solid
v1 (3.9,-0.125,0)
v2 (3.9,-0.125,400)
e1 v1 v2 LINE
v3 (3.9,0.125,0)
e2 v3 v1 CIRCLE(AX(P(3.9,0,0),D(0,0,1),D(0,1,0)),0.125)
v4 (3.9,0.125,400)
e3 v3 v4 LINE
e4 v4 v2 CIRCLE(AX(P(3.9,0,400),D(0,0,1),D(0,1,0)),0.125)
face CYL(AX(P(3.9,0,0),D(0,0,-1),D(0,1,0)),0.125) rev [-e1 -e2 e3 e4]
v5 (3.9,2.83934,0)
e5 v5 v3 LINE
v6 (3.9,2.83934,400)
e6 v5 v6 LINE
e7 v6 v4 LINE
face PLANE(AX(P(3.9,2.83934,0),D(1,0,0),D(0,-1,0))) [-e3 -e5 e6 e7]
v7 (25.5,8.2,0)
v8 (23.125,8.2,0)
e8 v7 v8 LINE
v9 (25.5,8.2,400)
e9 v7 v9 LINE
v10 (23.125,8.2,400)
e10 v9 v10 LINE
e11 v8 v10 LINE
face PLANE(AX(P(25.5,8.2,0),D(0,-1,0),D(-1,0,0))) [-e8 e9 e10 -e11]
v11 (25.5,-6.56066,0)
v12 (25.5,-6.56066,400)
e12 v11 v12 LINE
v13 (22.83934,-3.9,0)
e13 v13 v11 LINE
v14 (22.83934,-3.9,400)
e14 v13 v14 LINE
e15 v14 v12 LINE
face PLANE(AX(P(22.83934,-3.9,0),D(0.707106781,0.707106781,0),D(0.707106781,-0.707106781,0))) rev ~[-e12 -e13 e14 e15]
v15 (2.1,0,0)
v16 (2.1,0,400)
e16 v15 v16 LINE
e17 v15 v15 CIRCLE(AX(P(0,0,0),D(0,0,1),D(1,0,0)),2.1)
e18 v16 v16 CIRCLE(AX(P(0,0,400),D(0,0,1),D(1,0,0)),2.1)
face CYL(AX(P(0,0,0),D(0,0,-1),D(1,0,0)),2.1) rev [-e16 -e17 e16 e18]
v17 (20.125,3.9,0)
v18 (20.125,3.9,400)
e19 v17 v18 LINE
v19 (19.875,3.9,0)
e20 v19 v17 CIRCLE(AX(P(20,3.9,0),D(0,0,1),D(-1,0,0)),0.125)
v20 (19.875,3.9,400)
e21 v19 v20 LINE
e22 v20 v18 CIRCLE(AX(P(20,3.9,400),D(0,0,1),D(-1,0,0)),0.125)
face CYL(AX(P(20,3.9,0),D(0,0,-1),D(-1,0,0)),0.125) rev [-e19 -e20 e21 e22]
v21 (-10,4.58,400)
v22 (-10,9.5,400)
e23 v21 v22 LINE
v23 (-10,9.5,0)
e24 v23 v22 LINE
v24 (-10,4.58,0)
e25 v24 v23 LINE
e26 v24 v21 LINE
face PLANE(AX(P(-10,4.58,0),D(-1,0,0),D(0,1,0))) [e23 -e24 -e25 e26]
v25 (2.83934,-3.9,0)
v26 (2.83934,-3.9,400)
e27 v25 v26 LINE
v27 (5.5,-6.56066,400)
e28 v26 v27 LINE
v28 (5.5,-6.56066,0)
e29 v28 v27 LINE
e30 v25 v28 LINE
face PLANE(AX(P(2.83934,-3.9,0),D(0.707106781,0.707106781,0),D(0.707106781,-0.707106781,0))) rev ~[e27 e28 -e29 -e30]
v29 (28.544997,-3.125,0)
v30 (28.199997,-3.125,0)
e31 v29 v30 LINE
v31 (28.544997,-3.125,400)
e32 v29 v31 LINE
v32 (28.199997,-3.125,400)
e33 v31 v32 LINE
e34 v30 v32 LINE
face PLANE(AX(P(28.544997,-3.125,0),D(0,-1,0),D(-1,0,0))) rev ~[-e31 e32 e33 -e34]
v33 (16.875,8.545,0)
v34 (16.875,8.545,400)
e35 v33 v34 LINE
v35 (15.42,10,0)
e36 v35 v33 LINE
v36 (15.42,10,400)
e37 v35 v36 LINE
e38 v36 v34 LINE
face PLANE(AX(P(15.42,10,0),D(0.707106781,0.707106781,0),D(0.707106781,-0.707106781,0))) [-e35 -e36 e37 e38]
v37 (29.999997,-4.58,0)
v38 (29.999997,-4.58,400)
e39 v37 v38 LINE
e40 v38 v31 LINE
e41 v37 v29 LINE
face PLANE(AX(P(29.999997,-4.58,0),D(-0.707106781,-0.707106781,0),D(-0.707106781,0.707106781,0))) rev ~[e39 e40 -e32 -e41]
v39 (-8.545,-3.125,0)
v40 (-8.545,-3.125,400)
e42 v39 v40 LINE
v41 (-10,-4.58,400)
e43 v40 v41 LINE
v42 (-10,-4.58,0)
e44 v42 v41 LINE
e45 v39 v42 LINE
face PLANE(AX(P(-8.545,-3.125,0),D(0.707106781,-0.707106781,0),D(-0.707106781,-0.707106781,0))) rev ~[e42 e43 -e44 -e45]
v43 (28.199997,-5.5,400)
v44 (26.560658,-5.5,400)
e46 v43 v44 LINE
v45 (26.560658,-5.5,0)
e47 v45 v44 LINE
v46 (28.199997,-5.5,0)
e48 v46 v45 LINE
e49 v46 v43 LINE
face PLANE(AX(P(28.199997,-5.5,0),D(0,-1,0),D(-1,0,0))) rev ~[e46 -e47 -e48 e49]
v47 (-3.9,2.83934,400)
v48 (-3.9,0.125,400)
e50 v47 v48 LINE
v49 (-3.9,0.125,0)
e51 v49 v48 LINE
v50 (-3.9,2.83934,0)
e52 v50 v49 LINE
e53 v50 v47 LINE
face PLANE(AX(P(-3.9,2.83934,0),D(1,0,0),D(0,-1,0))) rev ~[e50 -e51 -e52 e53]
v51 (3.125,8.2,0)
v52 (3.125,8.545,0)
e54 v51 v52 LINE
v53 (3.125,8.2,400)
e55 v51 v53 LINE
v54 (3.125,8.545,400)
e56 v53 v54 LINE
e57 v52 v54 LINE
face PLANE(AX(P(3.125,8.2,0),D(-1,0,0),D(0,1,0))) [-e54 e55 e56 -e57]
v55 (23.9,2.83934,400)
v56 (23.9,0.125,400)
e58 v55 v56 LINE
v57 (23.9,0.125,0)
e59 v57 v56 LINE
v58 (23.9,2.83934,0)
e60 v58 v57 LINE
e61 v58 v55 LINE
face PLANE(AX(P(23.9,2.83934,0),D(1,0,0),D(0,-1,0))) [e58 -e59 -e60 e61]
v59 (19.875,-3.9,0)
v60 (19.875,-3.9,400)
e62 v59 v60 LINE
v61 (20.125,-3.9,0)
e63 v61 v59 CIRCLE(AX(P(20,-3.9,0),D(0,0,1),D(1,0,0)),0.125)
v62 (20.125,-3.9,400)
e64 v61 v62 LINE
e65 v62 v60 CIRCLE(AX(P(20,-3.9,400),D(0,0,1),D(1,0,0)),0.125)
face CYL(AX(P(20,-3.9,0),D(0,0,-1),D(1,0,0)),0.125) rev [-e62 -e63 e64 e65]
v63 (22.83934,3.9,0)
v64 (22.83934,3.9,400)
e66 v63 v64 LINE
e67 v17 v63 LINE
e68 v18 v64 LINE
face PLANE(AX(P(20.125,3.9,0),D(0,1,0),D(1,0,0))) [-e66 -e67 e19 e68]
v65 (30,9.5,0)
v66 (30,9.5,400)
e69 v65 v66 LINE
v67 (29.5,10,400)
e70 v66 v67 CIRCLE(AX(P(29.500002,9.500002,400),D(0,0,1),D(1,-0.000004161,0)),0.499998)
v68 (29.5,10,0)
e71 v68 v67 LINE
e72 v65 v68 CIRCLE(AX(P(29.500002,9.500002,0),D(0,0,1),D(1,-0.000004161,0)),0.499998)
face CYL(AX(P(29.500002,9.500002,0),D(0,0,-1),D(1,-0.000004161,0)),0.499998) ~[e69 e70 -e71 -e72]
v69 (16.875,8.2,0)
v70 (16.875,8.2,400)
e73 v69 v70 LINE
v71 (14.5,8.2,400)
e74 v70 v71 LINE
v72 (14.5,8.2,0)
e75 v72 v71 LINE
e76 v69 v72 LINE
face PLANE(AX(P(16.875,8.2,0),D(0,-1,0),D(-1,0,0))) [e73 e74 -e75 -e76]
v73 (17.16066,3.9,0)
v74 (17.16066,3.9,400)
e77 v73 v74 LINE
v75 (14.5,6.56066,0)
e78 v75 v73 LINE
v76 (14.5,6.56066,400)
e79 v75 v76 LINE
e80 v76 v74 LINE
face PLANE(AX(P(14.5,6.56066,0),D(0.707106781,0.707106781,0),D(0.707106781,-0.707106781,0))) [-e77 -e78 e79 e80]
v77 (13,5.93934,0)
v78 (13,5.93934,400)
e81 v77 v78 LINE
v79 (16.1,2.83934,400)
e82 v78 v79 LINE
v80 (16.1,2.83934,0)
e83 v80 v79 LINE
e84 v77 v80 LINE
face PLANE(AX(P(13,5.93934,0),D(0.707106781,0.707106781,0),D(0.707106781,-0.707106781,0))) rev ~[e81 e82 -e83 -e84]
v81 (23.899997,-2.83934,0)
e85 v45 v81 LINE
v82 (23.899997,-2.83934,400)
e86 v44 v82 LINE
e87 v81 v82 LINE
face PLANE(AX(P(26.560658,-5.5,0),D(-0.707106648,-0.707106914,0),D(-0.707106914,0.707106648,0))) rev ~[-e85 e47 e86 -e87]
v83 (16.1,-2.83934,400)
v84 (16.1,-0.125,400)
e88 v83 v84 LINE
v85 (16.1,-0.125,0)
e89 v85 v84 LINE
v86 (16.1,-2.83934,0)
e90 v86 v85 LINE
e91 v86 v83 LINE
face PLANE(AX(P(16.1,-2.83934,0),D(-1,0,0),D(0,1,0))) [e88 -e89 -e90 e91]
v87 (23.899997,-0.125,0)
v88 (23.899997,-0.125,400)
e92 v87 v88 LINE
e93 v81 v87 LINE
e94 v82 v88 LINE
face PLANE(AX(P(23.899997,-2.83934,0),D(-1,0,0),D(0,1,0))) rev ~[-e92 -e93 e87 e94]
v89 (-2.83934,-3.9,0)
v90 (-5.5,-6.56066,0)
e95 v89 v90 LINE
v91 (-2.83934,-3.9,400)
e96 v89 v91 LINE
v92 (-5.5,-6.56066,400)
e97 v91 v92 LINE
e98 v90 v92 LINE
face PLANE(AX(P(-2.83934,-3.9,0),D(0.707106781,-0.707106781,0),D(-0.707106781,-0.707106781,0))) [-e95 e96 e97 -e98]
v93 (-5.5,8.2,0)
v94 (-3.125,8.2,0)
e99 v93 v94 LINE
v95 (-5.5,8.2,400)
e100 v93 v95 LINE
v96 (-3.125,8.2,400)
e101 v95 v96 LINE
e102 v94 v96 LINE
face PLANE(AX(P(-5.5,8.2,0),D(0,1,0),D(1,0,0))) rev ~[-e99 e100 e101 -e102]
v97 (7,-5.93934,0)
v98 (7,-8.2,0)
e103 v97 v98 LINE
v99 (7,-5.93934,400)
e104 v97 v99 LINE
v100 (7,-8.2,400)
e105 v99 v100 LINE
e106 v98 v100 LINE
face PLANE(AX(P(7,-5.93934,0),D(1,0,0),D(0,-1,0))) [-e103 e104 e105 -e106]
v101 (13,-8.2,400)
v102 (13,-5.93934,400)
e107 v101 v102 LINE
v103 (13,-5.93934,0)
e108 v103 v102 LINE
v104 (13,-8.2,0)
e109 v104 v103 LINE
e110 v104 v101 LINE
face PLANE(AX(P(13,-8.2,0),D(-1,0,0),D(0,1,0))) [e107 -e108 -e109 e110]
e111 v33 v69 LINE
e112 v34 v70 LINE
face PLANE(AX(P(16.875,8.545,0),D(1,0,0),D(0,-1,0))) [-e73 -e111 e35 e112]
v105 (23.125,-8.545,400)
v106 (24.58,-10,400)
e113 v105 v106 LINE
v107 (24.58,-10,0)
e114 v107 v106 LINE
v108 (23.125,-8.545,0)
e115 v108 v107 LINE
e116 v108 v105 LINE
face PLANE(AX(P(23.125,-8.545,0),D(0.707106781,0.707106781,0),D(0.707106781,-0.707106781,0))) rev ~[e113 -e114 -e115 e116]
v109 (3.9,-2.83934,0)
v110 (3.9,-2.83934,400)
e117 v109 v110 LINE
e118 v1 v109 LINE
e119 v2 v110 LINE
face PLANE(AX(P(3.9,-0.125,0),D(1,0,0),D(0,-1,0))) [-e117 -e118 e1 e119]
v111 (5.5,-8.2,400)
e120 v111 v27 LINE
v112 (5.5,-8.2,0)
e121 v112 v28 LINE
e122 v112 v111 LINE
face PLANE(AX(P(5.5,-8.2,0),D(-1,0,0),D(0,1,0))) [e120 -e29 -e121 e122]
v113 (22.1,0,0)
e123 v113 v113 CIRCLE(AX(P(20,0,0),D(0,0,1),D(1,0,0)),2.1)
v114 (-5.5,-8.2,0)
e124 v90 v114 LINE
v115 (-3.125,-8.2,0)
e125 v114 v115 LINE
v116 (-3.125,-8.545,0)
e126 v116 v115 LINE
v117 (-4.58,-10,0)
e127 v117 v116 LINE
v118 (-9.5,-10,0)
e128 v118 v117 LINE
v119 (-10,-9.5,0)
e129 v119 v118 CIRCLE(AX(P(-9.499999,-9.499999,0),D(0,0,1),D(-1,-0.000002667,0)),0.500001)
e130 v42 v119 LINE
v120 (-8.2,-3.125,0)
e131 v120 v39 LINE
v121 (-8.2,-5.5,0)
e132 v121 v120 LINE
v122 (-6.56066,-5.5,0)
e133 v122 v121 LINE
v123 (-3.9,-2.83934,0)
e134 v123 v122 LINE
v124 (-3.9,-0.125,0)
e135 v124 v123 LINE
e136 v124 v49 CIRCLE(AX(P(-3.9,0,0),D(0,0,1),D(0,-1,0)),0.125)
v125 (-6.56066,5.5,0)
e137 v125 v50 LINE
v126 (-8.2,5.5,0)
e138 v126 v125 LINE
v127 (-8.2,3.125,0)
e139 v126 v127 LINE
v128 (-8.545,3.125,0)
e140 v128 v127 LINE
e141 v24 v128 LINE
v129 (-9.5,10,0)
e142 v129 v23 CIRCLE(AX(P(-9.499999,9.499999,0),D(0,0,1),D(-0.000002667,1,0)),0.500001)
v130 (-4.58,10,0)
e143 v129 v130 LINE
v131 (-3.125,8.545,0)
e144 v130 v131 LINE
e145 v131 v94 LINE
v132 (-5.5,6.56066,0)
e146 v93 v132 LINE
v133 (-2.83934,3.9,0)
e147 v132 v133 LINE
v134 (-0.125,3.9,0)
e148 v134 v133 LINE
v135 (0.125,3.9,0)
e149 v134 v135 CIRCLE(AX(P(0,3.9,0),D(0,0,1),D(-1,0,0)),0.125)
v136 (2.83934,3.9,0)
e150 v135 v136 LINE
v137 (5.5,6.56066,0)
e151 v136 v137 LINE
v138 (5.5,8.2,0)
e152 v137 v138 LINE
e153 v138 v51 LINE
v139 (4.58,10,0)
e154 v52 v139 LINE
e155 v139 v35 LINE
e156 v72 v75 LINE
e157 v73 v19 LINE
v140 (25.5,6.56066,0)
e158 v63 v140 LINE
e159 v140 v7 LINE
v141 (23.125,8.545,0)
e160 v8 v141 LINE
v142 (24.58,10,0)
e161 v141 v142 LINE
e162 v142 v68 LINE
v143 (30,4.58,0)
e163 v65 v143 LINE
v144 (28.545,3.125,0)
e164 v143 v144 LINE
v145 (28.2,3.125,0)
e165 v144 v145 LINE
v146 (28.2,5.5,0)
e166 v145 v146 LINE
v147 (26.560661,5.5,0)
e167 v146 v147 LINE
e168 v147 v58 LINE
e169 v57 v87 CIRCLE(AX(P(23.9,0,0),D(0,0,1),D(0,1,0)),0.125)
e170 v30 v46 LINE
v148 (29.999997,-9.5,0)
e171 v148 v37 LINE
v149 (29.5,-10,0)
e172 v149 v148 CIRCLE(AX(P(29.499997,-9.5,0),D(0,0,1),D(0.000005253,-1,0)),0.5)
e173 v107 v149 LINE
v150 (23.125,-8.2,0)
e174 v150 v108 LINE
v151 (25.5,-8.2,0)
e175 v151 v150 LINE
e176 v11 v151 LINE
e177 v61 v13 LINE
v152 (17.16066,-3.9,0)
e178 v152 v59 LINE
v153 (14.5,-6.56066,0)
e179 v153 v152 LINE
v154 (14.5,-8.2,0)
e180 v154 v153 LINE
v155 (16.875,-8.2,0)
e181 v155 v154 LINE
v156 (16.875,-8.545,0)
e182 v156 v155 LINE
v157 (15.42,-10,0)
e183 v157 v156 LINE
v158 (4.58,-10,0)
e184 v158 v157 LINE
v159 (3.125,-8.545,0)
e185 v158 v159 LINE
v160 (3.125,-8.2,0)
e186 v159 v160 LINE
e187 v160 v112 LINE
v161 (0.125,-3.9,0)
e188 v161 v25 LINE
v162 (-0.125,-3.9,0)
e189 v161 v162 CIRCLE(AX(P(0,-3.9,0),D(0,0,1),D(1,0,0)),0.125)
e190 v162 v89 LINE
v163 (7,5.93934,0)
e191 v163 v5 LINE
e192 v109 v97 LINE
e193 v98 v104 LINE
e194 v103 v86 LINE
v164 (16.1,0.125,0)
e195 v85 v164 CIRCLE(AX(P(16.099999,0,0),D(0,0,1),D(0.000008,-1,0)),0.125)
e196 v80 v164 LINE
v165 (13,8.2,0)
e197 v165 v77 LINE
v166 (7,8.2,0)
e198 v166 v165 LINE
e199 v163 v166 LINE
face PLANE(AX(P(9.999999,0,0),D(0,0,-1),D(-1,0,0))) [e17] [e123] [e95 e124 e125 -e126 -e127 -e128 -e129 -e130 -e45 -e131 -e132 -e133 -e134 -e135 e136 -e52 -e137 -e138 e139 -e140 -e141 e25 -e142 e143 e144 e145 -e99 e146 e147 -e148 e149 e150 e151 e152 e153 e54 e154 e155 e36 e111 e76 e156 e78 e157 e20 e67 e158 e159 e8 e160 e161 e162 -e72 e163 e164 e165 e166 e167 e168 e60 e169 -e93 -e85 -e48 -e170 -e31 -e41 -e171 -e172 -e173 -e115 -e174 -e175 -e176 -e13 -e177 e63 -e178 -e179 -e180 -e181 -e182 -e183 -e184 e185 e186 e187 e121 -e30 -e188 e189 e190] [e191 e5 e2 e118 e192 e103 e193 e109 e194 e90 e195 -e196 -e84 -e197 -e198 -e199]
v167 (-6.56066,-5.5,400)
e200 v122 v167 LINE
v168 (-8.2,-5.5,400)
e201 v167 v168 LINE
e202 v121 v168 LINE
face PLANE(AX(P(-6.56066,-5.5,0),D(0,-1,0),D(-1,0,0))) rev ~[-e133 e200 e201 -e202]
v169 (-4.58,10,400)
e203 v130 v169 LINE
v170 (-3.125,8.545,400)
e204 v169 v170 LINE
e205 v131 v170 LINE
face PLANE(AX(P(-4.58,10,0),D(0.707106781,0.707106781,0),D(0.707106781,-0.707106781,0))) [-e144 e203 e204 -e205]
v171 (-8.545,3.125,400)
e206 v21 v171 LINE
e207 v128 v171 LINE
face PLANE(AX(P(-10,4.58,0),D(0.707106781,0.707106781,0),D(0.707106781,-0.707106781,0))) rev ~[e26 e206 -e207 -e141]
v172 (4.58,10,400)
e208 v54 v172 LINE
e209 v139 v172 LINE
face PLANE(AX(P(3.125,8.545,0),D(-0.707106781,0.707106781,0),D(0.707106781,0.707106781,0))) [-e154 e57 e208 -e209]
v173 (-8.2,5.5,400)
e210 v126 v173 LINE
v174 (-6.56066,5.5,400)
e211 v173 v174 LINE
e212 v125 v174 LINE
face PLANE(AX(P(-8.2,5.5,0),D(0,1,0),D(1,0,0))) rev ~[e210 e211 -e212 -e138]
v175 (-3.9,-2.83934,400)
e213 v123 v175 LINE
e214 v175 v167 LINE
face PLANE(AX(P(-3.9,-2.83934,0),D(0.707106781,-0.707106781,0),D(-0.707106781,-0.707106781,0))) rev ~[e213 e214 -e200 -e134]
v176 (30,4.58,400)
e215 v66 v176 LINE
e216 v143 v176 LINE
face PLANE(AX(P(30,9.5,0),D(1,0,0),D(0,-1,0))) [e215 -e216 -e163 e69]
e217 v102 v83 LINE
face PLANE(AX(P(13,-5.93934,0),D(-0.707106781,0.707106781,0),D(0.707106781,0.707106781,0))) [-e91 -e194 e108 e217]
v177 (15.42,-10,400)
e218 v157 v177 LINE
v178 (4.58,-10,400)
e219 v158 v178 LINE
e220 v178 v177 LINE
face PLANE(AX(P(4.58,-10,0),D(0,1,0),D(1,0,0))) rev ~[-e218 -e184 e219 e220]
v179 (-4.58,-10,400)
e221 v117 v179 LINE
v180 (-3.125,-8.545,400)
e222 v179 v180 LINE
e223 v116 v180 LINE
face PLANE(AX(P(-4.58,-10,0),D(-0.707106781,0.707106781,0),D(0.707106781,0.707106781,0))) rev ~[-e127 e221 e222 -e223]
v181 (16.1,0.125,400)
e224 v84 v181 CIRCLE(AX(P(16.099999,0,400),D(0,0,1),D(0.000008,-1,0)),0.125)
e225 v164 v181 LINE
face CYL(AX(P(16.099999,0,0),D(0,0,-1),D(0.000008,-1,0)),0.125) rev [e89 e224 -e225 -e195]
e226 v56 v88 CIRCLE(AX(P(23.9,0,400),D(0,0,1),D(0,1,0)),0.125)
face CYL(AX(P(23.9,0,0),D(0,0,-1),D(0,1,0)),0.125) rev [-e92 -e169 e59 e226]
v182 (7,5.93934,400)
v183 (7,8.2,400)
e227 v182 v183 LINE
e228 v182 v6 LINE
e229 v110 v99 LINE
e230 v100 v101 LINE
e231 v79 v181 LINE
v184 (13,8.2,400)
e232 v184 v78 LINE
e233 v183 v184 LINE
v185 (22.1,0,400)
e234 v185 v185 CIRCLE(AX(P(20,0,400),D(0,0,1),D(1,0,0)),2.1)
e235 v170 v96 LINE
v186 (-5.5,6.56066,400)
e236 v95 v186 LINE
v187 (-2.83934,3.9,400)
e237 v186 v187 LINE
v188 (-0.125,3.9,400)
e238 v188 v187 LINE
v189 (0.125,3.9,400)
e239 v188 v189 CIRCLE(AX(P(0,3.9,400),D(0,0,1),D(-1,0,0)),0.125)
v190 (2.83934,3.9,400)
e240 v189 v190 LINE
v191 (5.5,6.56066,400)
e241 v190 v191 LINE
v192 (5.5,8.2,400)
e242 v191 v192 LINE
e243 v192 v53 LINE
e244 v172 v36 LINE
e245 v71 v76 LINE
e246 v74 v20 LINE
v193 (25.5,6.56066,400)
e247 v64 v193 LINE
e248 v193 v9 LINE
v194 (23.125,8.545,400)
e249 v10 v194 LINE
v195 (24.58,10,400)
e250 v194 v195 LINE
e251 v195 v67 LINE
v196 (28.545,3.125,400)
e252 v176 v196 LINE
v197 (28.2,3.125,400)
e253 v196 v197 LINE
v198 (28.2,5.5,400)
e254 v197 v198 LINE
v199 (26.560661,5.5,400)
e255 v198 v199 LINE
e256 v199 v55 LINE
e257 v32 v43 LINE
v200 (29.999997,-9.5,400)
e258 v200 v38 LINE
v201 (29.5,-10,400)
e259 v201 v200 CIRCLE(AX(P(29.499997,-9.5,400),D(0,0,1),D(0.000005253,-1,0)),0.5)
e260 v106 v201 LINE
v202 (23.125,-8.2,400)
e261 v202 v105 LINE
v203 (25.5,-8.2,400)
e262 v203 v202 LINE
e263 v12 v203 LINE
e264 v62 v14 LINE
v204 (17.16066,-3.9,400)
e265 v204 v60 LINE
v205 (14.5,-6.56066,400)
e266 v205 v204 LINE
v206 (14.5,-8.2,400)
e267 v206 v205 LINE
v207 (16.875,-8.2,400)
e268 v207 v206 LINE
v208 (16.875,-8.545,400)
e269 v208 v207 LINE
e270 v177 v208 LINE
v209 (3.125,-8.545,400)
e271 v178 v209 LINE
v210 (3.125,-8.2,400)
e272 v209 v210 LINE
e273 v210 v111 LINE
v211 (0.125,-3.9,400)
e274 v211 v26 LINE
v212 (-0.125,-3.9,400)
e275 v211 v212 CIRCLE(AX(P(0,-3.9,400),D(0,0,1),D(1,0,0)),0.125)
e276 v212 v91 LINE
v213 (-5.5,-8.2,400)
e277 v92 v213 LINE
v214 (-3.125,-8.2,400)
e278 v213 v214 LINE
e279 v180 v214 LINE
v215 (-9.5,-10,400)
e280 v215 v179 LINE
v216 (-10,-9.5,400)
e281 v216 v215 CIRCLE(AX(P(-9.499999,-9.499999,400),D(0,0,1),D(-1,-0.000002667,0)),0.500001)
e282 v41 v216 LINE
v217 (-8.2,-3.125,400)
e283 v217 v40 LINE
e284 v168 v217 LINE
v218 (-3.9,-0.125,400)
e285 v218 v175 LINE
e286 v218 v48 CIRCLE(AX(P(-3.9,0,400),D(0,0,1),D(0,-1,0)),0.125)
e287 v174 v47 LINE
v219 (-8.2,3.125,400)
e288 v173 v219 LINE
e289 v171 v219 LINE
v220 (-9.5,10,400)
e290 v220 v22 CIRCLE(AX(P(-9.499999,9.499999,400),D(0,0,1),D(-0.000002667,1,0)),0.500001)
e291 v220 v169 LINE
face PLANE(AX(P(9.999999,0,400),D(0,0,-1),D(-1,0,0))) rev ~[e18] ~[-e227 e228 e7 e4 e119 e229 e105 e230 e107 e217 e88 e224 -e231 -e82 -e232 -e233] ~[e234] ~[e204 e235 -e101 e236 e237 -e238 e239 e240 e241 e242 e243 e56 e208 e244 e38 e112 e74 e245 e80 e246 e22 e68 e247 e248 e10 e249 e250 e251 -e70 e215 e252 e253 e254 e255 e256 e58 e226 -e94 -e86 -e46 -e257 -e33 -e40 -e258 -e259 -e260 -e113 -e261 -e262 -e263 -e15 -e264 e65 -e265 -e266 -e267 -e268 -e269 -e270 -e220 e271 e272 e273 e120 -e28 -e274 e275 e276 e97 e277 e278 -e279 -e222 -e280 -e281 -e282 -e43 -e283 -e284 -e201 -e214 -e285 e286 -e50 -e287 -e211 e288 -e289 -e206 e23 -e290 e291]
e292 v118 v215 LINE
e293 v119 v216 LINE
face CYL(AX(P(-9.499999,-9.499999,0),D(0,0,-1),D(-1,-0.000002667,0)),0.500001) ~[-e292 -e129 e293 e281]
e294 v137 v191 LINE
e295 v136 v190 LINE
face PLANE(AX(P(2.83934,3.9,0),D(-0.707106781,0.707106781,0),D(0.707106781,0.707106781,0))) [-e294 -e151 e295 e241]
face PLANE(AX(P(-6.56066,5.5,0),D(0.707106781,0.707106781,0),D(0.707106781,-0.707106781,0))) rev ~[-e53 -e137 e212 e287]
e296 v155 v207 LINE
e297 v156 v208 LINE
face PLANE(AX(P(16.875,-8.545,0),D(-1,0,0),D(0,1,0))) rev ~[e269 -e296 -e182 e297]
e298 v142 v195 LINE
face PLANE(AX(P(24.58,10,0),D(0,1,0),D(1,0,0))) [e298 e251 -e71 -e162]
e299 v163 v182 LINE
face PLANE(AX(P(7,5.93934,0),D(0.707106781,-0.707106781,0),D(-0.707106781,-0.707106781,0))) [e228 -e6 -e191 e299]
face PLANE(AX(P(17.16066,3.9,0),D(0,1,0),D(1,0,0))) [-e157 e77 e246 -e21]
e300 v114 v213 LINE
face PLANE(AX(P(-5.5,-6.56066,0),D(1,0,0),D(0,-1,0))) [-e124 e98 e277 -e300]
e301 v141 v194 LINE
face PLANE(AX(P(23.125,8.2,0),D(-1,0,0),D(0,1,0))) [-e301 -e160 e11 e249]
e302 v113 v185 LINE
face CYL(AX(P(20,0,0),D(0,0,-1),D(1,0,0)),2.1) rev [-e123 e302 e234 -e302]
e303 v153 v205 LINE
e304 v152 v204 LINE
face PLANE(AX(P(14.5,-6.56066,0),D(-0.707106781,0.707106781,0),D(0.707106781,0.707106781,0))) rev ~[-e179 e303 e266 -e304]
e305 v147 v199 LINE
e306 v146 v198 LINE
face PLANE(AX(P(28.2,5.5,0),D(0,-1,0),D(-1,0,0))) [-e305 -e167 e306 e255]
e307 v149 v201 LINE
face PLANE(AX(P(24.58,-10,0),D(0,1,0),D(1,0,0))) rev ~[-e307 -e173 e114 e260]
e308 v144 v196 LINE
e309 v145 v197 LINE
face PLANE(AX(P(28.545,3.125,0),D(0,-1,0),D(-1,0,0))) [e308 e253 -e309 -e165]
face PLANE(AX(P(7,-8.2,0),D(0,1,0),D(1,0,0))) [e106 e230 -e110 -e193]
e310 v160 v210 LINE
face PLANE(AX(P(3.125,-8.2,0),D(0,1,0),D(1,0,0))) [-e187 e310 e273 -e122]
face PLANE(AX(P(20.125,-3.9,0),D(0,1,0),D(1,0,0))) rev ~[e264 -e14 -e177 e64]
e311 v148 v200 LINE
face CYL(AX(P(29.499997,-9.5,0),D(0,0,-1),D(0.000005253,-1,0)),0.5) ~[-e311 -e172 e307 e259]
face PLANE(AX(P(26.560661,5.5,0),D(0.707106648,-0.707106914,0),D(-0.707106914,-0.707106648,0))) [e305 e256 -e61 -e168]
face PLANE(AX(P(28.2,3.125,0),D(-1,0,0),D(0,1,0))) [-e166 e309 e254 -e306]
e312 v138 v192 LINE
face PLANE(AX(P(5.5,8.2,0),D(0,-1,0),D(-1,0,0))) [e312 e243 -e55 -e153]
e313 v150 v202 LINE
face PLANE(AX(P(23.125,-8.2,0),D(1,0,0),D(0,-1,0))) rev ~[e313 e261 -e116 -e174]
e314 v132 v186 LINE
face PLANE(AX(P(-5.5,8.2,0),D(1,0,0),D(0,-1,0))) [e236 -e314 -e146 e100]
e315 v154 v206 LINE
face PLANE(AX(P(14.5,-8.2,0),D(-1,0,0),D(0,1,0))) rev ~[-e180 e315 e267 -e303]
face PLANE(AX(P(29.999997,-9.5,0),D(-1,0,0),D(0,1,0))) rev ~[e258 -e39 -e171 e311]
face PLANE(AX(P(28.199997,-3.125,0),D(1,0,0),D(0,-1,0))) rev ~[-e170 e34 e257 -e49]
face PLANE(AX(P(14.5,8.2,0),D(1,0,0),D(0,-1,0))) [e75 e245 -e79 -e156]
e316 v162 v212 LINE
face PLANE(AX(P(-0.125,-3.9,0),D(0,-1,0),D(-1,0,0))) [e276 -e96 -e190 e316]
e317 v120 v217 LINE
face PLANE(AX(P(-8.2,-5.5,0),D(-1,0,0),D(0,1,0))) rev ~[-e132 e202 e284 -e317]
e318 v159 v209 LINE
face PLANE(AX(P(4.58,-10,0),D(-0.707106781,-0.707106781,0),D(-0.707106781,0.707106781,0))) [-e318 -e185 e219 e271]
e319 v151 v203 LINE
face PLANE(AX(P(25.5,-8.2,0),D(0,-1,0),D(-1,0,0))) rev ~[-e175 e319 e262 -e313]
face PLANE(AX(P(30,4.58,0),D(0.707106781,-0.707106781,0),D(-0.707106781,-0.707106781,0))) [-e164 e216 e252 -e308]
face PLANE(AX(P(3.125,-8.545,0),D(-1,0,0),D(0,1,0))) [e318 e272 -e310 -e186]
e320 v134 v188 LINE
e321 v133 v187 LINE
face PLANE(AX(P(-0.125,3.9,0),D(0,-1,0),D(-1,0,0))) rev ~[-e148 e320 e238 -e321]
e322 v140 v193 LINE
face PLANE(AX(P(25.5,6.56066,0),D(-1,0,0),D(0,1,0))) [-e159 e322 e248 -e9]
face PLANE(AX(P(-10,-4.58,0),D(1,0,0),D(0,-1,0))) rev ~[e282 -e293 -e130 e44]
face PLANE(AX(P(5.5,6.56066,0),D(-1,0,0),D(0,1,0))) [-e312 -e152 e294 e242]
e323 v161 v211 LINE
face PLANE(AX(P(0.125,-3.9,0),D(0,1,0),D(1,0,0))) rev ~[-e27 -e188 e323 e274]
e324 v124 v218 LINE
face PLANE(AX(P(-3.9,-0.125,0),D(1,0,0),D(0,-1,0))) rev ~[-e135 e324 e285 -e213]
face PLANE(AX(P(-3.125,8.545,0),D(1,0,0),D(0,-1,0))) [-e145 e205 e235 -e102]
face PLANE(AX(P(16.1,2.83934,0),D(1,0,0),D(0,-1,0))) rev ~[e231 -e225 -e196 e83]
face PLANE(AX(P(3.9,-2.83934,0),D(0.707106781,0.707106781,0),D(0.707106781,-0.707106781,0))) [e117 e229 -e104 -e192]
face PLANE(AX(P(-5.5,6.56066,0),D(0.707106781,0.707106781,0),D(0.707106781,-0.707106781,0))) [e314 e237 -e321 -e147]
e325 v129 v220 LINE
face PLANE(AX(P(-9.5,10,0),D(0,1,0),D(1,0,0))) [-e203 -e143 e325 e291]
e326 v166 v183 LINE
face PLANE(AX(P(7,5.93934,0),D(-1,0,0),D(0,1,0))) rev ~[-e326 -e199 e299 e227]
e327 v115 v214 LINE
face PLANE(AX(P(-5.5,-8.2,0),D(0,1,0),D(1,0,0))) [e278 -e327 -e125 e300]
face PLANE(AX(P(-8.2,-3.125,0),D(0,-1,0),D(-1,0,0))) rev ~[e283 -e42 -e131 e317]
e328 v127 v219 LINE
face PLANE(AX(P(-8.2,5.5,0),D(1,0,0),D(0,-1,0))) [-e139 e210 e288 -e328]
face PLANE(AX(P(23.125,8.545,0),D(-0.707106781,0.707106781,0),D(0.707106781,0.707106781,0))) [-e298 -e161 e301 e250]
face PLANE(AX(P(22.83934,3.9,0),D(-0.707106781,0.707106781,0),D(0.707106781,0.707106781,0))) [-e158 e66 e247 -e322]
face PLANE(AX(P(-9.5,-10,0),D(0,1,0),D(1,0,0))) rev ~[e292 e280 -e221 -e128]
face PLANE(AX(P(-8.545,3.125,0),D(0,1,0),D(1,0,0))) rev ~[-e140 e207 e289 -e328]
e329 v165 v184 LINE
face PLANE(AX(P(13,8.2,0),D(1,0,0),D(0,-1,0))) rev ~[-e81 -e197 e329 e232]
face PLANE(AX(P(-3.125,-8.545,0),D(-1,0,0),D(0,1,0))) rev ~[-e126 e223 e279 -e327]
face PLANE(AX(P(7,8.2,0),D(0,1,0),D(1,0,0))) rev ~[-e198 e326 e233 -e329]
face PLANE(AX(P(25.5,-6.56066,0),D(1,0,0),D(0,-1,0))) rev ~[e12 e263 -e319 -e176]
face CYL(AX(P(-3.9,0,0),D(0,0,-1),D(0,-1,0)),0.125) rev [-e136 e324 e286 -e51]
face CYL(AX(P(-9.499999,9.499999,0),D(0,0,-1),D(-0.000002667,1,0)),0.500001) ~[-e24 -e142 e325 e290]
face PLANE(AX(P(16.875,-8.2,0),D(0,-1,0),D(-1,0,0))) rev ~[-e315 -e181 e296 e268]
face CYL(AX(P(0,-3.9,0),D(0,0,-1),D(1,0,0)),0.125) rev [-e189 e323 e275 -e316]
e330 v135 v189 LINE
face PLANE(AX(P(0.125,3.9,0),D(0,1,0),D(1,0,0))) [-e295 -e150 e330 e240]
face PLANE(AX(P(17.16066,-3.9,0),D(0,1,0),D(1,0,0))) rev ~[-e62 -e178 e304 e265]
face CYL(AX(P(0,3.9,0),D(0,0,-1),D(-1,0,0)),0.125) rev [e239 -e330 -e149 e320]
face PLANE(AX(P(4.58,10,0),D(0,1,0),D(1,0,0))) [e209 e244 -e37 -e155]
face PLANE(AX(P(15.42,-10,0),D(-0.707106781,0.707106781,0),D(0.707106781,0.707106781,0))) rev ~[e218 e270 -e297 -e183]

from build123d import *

# Parameters (mm, degrees)
SKETCH_R  = 2.1
PAD_DEPTH = 400


with BuildPart() as part:
    # Sketch → Pad (new body)
    with BuildSketch(Plane.XY):
        with BuildLine():
            Line((-10, 4.58), (-10, 9.5))
            ThreePointArc((-9.5, 10), (-9.853553, 9.853553), (-10, 9.5))
            Line((-9.5, 10), (-4.58, 10))
            Line((-4.58, 10), (-3.125, 8.545))
            Line((-3.125, 8.545), (-3.125, 8.2))
            Line((-5.5, 8.2), (-3.125, 8.2))
            Line((-5.5, 8.2), (-5.5, 6.56066))
            Line((-5.5, 6.56066), (-2.83934, 3.9))
            Line((-0.125, 3.9), (-2.83934, 3.9))
            ThreePointArc((-0.125, 3.9), (0, 3.775), (0.125, 3.9))
            Line((0.125, 3.9), (2.83934, 3.9))
            Line((2.83934, 3.9), (5.5, 6.56066))
            Line((5.5, 6.56066), (5.5, 8.2))
            Line((5.5, 8.2), (3.125, 8.2))
            Line((3.125, 8.2), (3.125, 8.545))
            Line((3.125, 8.545), (4.58, 10))
            Line((4.58, 10), (15.42, 10))
            Line((15.42, 10), (16.875, 8.545))
            Line((16.875, 8.545), (16.875, 8.2))
            Line((16.875, 8.2), (14.5, 8.2))
            Line((14.5, 8.2), (14.5, 6.56066))
            Line((14.5, 6.56066), (17.16066, 3.9))
            Line((17.16066, 3.9), (19.875, 3.9))
            ThreePointArc((19.875, 3.9), (20, 3.775), (20.125, 3.9))
            Line((20.125, 3.9), (22.83934, 3.9))
            Line((22.83934, 3.9), (25.5, 6.56066))
            Line((25.5, 6.56066), (25.5, 8.2))
            Line((25.5, 8.2), (23.125, 8.2))
            Line((23.125, 8.2), (23.125, 8.545))
            Line((23.125, 8.545), (24.58, 10))
            Line((24.58, 10), (29.5, 10))
            ThreePointArc((30, 9.5), (29.853554, 9.853554), (29.5, 10))
            Line((30, 9.5), (30, 4.58))
            Line((30, 4.58), (28.545, 3.125))
            Line((28.545, 3.125), (28.2, 3.125))
            Line((28.2, 3.125), (28.2, 5.5))
            Line((28.2, 5.5), (26.560661, 5.5))
            Line((26.560661, 5.5), (23.9, 2.83934))
            Line((23.9, 2.83934), (23.9, 0.125))
            ThreePointArc((23.9, 0.125), (23.775, 2e-06), (23.899997, -0.125))
            Line((23.899997, -2.83934), (23.899997, -0.125))
            Line((26.560658, -5.5), (23.899997, -2.83934))
            Line((28.199997, -5.5), (26.560658, -5.5))
            Line((28.199997, -3.125), (28.199997, -5.5))
            Line((28.544997, -3.125), (28.199997, -3.125))
            Line((29.999997, -4.58), (28.544997, -3.125))
            Line((29.999997, -9.5), (29.999997, -4.58))
            ThreePointArc((29.5, -10), (29.853552, -9.853552), (29.999997, -9.5))
            Line((24.58, -10), (29.5, -10))
            Line((23.125, -8.545), (24.58, -10))
            Line((23.125, -8.2), (23.125, -8.545))
            Line((25.5, -8.2), (23.125, -8.2))
            Line((25.5, -6.56066), (25.5, -8.2))
            Line((22.83934, -3.9), (25.5, -6.56066))
            Line((20.125, -3.9), (22.83934, -3.9))
            ThreePointArc((20.125, -3.9), (20, -3.775), (19.875, -3.9))
            Line((17.16066, -3.9), (19.875, -3.9))
            Line((14.5, -6.56066), (17.16066, -3.9))
            Line((14.5, -8.2), (14.5, -6.56066))
            Line((16.875, -8.2), (14.5, -8.2))
            Line((16.875, -8.545), (16.875, -8.2))
            Line((15.42, -10), (16.875, -8.545))
            Line((4.58, -10), (15.42, -10))
            Line((4.58, -10), (3.125, -8.545))
            Line((3.125, -8.545), (3.125, -8.2))
            Line((3.125, -8.2), (5.5, -8.2))
            Line((5.5, -8.2), (5.5, -6.56066))
            Line((2.83934, -3.9), (5.5, -6.56066))
            Line((0.125, -3.9), (2.83934, -3.9))
            ThreePointArc((0.125, -3.9), (0, -3.775), (-0.125, -3.9))
            Line((-0.125, -3.9), (-2.83934, -3.9))
            Line((-2.83934, -3.9), (-5.5, -6.56066))
            Line((-5.5, -6.56066), (-5.5, -8.2))
            Line((-5.5, -8.2), (-3.125, -8.2))
            Line((-3.125, -8.545), (-3.125, -8.2))
            Line((-4.58, -10), (-3.125, -8.545))
            Line((-9.5, -10), (-4.58, -10))
            ThreePointArc((-10, -9.5), (-9.853553, -9.853553), (-9.5, -10))
            Line((-10, -4.58), (-10, -9.5))
            Line((-8.545, -3.125), (-10, -4.58))
            Line((-8.2, -3.125), (-8.545, -3.125))
            Line((-8.2, -5.5), (-8.2, -3.125))
            Line((-6.56066, -5.5), (-8.2, -5.5))
            Line((-3.9, -2.83934), (-6.56066, -5.5))
            Line((-3.9, -0.125), (-3.9, -2.83934))
            ThreePointArc((-3.9, -0.125), (-3.775, 0), (-3.9, 0.125))
            Line((-3.9, 2.83934), (-3.9, 0.125))
            Line((-6.56066, 5.5), (-3.9, 2.83934))
            Line((-8.2, 5.5), (-6.56066, 5.5))
            Line((-8.2, 5.5), (-8.2, 3.125))
            Line((-8.545, 3.125), (-8.2, 3.125))
            Line((-10, 4.58), (-8.545, 3.125))
        make_face()
        Circle(SKETCH_R, mode=Mode.SUBTRACT)
        with Locations((20, 0)):
            Circle(SKETCH_R, mode=Mode.SUBTRACT)
        with BuildLine():
            Line((7, 5.93934), (3.9, 2.83934))
            Line((3.9, 2.83934), (3.9, 0.125))
            ThreePointArc((3.9, 0.125), (3.775, 0), (3.9, -0.125))
            Line((3.9, -0.125), (3.9, -2.83934))
            Line((3.9, -2.83934), (7, -5.93934))
            Line((7, -5.93934), (7, -8.2))
            Line((7, -8.2), (13, -8.2))
            Line((13, -8.2), (13, -5.93934))
            Line((13, -5.93934), (16.1, -2.83934))
            Line((16.1, -2.83934), (16.1, -0.125))
            ThreePointArc((16.1, -0.125), (16.224999, 0), (16.1, 0.125))
            Line((16.1, 2.83934), (16.1, 0.125))
            Line((13, 5.93934), (16.1, 2.83934))
            Line((13, 8.2), (13, 5.93934))
            Line((7, 8.2), (13, 8.2))
            Line((7, 5.93934), (7, 8.2))
        make_face(mode=Mode.SUBTRACT)
    extrude(amount=PAD_DEPTH)


solid = part.part
